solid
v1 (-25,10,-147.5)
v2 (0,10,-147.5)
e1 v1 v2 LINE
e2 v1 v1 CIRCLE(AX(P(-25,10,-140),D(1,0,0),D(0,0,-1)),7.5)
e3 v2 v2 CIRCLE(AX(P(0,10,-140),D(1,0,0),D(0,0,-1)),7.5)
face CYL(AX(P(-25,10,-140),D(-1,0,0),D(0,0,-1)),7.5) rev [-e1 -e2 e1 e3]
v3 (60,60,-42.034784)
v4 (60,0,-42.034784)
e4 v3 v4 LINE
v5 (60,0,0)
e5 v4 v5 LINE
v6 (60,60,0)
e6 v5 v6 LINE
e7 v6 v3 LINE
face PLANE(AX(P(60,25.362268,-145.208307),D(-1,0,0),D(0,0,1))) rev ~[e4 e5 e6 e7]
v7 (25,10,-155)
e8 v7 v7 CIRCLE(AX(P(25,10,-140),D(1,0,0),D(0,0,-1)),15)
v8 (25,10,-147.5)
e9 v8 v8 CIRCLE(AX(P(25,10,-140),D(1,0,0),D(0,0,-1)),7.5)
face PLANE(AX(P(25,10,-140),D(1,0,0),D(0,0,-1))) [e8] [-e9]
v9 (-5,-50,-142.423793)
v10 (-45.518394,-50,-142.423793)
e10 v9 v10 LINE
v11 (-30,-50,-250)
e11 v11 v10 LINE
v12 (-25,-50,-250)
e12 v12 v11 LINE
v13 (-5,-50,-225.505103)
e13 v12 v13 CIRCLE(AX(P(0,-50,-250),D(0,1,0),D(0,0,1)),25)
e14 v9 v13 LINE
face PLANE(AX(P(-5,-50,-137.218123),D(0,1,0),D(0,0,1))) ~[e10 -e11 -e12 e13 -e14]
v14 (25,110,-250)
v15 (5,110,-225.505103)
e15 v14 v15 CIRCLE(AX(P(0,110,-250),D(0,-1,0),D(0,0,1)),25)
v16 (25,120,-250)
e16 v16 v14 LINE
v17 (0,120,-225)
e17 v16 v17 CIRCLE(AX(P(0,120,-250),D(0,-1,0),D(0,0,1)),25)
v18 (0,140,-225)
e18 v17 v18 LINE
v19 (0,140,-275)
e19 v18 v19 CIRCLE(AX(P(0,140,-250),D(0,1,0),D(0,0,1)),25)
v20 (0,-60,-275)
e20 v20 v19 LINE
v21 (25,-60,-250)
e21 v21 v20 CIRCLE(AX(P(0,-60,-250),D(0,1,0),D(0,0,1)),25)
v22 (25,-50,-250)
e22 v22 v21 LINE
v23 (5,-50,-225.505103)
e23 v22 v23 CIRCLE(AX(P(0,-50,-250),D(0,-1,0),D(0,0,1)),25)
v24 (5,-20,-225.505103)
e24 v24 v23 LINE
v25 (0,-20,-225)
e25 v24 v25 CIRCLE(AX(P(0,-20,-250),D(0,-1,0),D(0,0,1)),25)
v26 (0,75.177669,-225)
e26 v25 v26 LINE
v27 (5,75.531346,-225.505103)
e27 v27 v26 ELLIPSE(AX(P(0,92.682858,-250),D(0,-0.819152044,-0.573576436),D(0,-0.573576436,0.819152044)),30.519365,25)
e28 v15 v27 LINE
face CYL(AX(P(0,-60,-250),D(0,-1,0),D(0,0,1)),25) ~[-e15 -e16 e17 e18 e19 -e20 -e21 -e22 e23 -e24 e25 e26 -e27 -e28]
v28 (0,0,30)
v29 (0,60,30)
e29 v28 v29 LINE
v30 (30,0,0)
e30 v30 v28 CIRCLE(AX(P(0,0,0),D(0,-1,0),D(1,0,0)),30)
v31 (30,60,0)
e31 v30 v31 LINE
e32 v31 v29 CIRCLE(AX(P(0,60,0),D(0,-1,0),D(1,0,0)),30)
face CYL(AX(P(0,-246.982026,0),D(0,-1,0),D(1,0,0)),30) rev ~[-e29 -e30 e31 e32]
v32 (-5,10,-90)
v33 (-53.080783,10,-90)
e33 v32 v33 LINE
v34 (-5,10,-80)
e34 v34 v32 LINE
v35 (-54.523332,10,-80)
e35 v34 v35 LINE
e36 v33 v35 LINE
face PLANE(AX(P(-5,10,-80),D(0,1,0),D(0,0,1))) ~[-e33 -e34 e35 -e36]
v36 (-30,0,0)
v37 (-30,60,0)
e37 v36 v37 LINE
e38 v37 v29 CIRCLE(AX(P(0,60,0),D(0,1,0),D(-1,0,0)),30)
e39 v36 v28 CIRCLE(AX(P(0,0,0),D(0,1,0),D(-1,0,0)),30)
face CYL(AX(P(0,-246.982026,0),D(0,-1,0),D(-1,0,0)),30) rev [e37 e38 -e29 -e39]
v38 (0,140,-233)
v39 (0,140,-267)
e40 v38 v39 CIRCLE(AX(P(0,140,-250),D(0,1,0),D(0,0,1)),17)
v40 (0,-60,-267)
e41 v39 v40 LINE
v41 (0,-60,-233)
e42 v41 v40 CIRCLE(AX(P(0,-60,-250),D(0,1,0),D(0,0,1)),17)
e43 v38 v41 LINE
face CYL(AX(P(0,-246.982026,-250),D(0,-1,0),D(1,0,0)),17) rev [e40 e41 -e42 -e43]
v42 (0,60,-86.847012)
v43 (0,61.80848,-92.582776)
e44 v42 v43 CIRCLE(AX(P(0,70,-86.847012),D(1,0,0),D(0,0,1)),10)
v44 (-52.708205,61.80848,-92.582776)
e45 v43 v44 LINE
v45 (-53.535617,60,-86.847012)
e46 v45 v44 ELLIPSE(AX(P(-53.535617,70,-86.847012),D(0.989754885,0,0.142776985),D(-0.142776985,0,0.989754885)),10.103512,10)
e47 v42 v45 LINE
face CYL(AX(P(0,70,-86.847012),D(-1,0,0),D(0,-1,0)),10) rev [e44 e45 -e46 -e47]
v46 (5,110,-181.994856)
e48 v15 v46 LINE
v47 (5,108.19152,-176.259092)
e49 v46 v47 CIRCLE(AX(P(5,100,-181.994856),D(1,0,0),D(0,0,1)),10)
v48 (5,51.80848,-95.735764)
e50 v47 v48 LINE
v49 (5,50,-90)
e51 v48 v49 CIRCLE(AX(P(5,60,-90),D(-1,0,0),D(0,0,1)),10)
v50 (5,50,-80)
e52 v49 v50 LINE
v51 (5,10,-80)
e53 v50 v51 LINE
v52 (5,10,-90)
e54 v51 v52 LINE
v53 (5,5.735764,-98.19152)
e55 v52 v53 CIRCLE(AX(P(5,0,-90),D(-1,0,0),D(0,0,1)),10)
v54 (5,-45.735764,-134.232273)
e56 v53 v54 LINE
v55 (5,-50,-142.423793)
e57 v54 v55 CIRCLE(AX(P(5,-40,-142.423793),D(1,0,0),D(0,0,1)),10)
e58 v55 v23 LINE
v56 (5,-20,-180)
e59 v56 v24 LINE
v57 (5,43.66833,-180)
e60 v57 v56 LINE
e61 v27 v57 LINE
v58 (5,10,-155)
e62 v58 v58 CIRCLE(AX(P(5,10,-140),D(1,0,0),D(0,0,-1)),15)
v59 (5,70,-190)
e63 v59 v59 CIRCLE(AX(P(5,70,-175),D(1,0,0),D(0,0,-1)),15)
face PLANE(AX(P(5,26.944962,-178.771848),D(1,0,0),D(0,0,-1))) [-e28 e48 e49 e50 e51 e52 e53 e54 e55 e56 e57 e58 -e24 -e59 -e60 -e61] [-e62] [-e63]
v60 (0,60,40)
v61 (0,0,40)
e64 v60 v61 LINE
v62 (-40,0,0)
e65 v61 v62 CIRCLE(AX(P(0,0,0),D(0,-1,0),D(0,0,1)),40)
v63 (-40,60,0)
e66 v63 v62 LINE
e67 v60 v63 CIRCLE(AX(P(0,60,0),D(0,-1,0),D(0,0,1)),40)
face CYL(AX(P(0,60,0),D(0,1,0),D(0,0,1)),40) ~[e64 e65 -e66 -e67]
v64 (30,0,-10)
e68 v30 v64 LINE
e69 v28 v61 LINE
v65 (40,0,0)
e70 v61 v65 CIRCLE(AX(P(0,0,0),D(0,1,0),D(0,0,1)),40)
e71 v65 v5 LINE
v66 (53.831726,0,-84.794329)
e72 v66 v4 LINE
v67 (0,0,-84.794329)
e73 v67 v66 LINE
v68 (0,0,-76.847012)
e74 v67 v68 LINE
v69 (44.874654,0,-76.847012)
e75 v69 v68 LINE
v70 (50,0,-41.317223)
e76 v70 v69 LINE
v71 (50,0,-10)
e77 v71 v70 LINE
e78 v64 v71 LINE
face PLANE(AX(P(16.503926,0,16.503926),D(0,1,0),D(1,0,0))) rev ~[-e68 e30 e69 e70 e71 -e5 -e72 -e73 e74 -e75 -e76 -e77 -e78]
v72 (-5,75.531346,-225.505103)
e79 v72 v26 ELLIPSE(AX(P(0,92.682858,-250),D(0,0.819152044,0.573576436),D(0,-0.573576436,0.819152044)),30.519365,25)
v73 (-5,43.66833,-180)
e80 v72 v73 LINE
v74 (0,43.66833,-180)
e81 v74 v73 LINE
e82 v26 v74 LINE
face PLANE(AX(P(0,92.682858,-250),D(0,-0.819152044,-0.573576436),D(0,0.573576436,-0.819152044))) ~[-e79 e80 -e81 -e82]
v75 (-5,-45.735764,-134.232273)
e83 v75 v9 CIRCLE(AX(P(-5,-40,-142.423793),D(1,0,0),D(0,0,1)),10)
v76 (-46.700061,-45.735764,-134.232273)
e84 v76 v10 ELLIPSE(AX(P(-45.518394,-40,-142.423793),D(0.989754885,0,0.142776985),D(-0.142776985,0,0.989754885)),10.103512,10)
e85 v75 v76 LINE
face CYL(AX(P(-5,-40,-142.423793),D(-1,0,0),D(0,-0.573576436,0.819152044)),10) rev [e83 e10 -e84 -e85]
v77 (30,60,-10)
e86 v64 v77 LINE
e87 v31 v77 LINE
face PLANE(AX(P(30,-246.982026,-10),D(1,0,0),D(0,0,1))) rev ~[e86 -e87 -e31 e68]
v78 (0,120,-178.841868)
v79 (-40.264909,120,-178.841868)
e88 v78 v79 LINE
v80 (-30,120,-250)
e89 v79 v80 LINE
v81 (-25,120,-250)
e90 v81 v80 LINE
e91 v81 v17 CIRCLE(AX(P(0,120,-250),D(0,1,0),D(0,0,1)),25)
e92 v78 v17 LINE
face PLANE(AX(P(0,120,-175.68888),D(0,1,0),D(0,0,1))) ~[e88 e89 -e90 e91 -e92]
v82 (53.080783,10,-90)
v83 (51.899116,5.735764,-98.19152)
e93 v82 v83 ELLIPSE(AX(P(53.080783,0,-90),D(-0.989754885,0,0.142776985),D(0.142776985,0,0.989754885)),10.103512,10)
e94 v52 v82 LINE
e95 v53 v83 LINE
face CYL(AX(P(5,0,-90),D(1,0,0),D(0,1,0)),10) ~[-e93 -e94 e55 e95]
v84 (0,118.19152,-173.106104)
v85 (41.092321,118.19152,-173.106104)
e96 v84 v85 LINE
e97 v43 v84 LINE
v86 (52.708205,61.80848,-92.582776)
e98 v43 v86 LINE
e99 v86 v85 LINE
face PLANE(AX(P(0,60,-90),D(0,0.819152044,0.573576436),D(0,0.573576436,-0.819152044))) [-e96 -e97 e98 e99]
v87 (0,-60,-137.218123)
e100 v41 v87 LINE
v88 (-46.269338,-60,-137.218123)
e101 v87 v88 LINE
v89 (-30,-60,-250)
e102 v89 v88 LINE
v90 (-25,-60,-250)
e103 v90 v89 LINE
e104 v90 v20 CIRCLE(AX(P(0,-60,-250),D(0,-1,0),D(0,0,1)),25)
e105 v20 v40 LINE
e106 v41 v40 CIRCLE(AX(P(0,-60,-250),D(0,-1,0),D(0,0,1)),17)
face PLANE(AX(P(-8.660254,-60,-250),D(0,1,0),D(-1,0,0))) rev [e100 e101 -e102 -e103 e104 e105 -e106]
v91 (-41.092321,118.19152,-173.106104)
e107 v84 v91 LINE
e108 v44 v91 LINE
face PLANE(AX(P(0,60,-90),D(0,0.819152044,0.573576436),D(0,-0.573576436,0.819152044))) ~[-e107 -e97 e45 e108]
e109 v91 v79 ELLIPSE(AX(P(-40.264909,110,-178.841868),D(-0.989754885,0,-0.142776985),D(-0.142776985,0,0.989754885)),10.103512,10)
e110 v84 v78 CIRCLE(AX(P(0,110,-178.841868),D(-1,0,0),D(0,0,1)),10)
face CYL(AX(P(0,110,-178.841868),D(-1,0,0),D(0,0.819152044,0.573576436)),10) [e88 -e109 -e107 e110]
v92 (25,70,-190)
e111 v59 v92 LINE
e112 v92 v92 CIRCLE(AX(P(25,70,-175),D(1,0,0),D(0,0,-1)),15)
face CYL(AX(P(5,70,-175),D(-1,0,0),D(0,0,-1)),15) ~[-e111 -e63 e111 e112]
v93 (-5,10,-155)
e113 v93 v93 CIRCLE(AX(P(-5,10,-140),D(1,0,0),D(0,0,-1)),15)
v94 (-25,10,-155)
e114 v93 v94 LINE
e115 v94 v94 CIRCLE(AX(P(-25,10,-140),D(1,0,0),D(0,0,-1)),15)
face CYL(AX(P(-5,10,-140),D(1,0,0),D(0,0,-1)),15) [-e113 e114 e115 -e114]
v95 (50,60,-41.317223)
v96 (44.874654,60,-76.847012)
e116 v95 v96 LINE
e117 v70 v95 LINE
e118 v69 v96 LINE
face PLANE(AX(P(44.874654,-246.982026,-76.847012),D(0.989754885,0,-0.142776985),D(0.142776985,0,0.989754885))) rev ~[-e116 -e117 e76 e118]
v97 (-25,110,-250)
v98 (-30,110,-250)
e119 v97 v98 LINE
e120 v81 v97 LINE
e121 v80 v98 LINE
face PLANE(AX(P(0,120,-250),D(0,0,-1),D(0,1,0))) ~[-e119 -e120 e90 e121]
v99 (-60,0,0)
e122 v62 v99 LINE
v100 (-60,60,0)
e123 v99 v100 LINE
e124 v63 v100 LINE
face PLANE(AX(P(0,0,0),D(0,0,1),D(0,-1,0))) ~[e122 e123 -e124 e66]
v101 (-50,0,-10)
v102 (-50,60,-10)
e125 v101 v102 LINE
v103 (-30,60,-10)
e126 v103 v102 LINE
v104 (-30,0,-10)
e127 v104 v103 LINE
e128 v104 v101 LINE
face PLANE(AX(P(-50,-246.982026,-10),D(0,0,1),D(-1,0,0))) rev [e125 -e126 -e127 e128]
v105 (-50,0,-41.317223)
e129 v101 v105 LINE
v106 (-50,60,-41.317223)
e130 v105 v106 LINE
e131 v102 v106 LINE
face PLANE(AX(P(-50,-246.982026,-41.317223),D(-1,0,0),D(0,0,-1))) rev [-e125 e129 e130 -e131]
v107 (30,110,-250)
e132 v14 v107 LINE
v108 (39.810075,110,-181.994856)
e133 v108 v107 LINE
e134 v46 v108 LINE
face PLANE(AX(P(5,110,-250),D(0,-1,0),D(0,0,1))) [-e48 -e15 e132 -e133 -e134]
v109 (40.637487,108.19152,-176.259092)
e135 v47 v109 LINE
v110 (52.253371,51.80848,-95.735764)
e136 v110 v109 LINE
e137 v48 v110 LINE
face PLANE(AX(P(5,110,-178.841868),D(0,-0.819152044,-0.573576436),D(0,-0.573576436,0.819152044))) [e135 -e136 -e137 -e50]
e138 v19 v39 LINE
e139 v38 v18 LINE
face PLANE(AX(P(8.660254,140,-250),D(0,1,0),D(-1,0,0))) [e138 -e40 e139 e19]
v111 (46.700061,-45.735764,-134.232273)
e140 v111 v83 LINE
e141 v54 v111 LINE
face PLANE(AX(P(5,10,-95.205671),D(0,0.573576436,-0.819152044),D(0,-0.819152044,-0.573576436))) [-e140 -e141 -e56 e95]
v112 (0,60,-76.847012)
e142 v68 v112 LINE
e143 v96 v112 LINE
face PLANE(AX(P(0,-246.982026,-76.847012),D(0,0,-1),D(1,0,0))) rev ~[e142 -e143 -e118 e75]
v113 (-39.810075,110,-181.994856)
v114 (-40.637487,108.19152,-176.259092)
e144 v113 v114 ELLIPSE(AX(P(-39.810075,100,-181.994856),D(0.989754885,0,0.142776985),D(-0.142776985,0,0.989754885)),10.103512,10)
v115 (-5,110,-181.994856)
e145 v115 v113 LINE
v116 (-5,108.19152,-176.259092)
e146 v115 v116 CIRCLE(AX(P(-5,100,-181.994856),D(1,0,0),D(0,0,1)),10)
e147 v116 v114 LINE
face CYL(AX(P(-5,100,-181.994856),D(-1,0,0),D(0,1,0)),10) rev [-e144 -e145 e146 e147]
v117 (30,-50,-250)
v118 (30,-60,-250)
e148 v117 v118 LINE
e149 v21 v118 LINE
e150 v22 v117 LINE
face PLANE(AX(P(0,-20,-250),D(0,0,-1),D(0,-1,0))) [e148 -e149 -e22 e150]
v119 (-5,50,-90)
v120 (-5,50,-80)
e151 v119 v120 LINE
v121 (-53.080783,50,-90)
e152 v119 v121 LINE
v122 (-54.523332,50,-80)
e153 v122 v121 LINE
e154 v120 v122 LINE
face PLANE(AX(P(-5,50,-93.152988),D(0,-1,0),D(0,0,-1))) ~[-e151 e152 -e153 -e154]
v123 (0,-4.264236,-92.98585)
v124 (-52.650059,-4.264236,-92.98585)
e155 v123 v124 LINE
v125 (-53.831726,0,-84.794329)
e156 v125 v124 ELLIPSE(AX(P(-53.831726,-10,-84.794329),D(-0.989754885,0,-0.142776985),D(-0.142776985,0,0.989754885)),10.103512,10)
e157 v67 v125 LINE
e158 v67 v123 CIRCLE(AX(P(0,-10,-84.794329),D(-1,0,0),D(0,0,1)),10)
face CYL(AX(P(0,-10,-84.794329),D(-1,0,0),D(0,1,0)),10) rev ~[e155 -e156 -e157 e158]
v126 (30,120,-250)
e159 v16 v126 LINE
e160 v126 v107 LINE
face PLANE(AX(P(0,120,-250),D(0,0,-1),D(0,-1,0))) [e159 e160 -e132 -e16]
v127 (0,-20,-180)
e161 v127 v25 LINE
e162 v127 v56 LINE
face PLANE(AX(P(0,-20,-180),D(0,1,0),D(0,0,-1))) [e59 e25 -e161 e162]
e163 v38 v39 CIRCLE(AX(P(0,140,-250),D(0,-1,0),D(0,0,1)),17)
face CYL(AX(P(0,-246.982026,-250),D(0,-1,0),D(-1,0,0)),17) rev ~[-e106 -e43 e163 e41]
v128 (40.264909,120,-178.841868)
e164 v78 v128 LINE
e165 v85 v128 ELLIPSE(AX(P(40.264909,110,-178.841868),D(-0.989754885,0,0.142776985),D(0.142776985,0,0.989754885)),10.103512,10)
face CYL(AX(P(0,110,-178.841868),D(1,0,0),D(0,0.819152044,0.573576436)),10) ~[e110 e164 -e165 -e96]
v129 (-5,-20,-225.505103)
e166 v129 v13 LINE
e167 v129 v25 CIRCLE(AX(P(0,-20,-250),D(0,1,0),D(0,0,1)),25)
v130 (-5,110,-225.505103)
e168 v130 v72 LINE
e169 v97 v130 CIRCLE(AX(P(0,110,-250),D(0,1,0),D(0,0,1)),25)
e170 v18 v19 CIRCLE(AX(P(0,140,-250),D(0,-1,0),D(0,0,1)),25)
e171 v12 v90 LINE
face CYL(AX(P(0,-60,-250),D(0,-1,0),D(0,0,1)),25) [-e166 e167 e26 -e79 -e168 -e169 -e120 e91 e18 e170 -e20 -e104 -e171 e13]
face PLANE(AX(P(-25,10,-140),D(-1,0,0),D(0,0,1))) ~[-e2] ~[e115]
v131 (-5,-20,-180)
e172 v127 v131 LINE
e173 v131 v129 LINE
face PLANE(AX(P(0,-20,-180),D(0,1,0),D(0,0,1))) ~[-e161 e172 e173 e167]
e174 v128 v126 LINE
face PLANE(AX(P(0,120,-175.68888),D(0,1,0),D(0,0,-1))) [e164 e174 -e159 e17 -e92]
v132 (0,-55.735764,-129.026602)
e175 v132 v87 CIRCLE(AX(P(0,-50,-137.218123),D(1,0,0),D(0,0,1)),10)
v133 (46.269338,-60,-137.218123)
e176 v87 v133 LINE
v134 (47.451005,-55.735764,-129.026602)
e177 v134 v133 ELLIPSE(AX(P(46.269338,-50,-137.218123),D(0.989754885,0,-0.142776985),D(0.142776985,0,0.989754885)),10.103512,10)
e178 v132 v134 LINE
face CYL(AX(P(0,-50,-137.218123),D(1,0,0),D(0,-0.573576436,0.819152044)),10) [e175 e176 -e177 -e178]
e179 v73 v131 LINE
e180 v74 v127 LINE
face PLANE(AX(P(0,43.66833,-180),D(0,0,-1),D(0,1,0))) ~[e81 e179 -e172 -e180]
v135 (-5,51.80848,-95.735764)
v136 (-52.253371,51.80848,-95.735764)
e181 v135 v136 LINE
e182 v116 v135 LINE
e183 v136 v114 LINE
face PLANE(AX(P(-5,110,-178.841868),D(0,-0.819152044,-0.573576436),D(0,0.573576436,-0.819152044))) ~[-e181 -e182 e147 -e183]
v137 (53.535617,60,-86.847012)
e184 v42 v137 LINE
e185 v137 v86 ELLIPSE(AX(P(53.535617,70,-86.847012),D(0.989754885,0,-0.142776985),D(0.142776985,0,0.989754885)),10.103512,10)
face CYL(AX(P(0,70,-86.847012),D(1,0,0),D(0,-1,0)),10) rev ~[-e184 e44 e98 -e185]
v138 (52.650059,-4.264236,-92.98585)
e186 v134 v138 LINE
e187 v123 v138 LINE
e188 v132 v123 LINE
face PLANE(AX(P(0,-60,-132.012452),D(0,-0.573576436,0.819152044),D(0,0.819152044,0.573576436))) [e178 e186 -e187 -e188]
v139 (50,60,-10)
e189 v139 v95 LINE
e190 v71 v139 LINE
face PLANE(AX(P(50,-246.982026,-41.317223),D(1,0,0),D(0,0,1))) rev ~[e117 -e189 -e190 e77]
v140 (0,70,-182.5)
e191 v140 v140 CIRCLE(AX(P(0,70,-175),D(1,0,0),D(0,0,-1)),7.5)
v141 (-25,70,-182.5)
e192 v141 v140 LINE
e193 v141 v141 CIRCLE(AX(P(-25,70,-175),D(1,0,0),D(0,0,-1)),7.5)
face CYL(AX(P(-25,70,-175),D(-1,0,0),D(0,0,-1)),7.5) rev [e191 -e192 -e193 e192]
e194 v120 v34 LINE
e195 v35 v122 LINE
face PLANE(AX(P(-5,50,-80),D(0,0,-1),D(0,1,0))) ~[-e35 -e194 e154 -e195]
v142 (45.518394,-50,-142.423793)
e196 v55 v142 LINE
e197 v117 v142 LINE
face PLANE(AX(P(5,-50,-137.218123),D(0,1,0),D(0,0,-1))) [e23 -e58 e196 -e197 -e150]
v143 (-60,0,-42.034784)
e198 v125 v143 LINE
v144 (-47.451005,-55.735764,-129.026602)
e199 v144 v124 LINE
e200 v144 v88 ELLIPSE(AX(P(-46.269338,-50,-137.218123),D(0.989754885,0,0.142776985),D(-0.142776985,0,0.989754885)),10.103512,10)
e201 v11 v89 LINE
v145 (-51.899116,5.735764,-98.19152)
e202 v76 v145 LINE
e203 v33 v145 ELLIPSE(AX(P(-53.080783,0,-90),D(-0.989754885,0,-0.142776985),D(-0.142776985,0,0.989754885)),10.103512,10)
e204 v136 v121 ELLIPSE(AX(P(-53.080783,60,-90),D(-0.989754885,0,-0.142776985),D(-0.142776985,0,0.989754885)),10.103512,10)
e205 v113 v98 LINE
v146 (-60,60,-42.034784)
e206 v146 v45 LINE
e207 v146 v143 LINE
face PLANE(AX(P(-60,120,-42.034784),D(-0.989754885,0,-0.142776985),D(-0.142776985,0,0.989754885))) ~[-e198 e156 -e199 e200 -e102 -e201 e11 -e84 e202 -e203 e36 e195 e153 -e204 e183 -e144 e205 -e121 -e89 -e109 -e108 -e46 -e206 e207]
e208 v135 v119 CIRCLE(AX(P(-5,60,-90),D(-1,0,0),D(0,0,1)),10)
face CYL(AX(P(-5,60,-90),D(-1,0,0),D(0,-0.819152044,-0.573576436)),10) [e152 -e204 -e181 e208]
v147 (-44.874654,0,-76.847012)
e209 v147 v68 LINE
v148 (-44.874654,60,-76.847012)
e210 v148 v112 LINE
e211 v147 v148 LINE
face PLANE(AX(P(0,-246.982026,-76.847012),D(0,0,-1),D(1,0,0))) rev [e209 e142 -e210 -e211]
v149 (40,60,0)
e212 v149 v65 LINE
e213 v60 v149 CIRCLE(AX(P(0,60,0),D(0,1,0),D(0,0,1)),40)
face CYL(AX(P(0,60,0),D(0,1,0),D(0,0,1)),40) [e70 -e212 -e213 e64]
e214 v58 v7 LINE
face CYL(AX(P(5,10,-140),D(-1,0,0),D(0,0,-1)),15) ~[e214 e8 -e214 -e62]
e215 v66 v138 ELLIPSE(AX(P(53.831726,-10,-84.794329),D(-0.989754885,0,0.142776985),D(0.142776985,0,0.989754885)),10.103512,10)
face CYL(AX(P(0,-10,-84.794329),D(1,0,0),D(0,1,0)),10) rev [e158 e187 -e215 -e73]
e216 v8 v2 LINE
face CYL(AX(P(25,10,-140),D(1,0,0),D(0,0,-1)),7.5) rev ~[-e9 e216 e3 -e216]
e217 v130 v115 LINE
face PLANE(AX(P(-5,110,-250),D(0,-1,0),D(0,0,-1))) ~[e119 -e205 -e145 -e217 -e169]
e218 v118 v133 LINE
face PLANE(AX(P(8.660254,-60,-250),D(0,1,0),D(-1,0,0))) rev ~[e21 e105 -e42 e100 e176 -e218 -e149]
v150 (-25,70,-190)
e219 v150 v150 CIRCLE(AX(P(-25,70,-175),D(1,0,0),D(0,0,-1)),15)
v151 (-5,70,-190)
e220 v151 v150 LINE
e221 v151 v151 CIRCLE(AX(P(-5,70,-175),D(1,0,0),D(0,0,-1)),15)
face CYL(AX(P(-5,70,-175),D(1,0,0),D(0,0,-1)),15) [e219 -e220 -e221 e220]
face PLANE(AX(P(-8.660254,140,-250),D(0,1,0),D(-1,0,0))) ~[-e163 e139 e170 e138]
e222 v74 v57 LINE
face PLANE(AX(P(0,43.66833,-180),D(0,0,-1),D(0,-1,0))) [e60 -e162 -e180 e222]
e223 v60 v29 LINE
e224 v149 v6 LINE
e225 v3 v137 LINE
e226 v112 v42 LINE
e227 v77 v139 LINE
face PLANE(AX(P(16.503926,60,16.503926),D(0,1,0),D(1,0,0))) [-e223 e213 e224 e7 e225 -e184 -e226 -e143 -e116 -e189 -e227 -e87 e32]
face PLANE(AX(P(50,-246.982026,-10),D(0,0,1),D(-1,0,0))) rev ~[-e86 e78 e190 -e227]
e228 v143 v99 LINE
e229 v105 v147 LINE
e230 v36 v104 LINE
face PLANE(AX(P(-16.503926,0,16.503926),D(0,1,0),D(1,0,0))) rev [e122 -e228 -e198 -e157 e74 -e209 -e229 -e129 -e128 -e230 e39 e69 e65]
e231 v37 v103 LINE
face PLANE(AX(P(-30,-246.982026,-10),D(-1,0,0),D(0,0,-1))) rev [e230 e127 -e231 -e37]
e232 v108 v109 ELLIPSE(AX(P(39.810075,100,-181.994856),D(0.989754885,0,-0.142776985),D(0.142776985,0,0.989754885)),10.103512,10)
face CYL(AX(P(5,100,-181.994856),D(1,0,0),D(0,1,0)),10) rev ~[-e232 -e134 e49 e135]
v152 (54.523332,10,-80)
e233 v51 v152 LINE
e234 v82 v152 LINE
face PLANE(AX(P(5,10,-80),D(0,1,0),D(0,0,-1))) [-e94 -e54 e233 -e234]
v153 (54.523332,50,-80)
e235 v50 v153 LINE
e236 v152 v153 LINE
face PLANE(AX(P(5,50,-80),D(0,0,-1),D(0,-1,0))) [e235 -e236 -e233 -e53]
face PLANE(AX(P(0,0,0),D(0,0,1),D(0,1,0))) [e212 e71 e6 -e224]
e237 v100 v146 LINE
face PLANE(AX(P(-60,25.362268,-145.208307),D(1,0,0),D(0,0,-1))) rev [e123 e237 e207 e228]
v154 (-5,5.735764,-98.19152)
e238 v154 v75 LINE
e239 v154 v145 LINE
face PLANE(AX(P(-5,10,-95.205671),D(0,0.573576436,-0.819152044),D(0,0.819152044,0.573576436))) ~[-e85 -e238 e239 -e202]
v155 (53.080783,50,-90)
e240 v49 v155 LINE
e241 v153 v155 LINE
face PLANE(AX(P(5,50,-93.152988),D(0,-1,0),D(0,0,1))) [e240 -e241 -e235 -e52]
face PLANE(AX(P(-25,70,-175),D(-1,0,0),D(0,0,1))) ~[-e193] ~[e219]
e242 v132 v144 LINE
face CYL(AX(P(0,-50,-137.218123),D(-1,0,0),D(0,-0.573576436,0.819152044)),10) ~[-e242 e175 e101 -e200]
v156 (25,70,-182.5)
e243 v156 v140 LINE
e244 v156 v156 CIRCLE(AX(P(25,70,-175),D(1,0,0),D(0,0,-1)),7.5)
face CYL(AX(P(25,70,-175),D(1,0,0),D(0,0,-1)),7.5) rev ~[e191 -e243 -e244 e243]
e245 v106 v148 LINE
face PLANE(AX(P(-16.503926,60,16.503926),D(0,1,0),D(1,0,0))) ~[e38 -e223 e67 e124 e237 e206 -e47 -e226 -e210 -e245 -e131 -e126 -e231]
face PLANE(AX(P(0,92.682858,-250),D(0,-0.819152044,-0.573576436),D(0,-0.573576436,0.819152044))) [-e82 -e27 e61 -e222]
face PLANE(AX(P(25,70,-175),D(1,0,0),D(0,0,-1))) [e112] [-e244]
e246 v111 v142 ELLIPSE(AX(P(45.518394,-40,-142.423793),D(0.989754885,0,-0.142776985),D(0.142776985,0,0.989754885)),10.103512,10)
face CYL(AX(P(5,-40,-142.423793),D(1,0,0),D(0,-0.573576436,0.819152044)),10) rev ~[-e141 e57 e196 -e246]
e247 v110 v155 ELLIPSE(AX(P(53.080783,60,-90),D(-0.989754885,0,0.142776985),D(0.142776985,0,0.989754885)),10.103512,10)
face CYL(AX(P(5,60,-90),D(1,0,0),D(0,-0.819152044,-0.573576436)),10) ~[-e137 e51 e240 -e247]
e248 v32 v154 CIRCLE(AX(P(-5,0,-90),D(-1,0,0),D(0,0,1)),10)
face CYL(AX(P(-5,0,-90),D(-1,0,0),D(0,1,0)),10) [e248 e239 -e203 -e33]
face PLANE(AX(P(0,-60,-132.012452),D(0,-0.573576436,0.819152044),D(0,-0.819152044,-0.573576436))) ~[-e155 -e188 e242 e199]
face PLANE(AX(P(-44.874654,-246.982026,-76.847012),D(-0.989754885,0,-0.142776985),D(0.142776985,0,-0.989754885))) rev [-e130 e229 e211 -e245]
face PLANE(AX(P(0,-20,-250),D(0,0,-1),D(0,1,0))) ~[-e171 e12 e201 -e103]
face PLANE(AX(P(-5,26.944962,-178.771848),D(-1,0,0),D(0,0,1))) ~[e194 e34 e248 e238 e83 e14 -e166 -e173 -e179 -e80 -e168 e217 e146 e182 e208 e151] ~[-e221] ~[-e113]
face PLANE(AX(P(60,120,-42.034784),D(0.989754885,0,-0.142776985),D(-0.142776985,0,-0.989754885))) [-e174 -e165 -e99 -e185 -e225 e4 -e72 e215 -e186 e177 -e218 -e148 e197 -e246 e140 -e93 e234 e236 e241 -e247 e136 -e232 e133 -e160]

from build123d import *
from build123d.topology import SkipClean

# Parameters (mm, degrees)
BOSS_EXTRUDE1_DEPTH     = 60
CUT_EXTRUDE1_DEPTH      = 314.84709653
CUT_EXTRUDE2_REACH      = 290.725
CUT_EXTRUDE2_START      = 5
FILLET1_R               = 10
BOSS_EXTRUDE4_DEPTH     = 60
BOSS_EXTRUDE2_DEPTH     = 200
CUT_EXTRUDE3_DEPTH      = 306.982025616
CUT_EXTRUDE3_DEPTH_BACK = 306.982025616
SKETCH5_R               = 17
SKETCH6_R               = 15
BOSS_EXTRUDE3_DEPTH     = 20
CUT_EXTRUDE4_REACH      = 312.564
SKETCH7_R               = 7.5


with BuildPart() as part:
    # Sketch1 → Boss-Extrude1 (new body)
    with BuildSketch(Plane(origin=(0, 0, 0), x_dir=(0, 0, -1), z_dir=(1, 0, 0))):
        Polygon((0, 0), (0, 60), (90, 60), (175.688880405, 120), (250, 120), (250, 92.682857844), (180, 43.668330169), (180, -20), (250, -20), (250, -60), (132.012452293, -60), (90, 0), align=None)
    extrude(amount=BOSS_EXTRUDE1_DEPTH)

    # Sketch2 → Cut-Extrude1 (cut, through all)
    with BuildSketch(Plane(origin=(0, 120, 0), x_dir=(1, 0, 0), z_dir=(0, 1, 0))):
        Polygon((60, 42.034783703), (30, 250), (60, 250), align=None)
    extrude(amount=-CUT_EXTRUDE1_DEPTH, mode=Mode.SUBTRACT)

    # Cut-Extrude2: up to this plane
    cut_extrude2_end = Plane(origin=(60, -60, -42.034783703), z_dir=(-0.9897548850976273, 0, 0.1427769849288831))
    # Sketch4 → Cut-Extrude2 (cut, up to the surface)
    with BuildSketch(Plane(origin=(0, 0, 0), x_dir=(0, 0, -1), z_dir=(1, 0, 0)).offset(CUT_EXTRUDE2_START), mode=Mode.PRIVATE) as cut_extrude2_sk1:
        Polygon((80, 50), (80, 10), (95.205670506, 10), (137.218122798, -50), (250, -50), (250, 110), (178.841868293, 110), (93.152987889, 50), align=None)
    cut_extrude2_tool1 = split(extrude(cut_extrude2_sk1.sketch, amount=CUT_EXTRUDE2_REACH, mode=Mode.PRIVATE), bisect_by=cut_extrude2_end, keep=Keep.BOTH, mode=Mode.PRIVATE)
    add(cut_extrude2_tool1.solids().sort_by_distance((5, 26.655834, -179.495855))[0], mode=Mode.SUBTRACT)

    # Fillet1
    fillet1_edges = [part.edges().sort_by_distance(p)[0] for p in [
        (26.540391431, 60, -90),
        (20.359871299, 120, -175.688880405),
        (23.510140528, -60, -132.012452293),
        (26.540391431, 0, -90),
        (28.66491971, 10, -95.205670506),
        (25.634668807, -50, -137.218122798),
        (22.632454334, 110, -178.841868293),
        (28.812974465, 50, -93.152987889),
    ]]
    fillet(fillet1_edges, radius=FILLET1_R)

    # Sketch8 → Boss-Extrude4 (add)
    with BuildSketch(Plane(origin=(0, 60, 0), x_dir=(1, 0, 0), z_dir=(0, 1, 0))):
        with BuildLine():
            Line((0, 0), (0, -40))
            ThreePointArc((0, -40), (28.284271247, -28.284271247), (40, 0))
            Line((40, 0), (0, 0))
        make_face()
    extrude(amount=-BOSS_EXTRUDE4_DEPTH)

    # Sketch3 → Boss-Extrude2 (add)
    with BuildSketch(Plane.XZ.offset(60)):
        with BuildLine():
            Line((0, -275), (0, -225))
            ThreePointArc((0, -225), (25, -250), (0, -275))
        make_face()
    extrude(amount=-BOSS_EXTRUDE2_DEPTH)

    # Sketch5 → Cut-Extrude3 (cut, two sides: drawn at the far end of the back side and taken through both)
    with BuildSketch(Plane(origin=(0, 60, 0), x_dir=(1, 0, 0), z_dir=(0, 1, 0)).offset(-CUT_EXTRUDE3_DEPTH_BACK)):
        with Locations((0, 250)):
            Circle(SKETCH5_R)
        with BuildLine():
            Line((40, 10), (30, 10))
            Line((30, 10), (30, 0))
            ThreePointArc((30, 0), (21.213203436, -21.213203436), (0, -30))
            Line((0, -30), (0, 76.847012111))
            Line((0, 76.847012111), (44.874654082, 76.847012111))
            Line((44.874654082, 76.847012111), (50, 41.317223033))
            Line((50, 41.317223033), (50, 10))
            Line((50, 10), (40, 10))
        make_face()
    extrude(amount=CUT_EXTRUDE3_DEPTH + CUT_EXTRUDE3_DEPTH_BACK, mode=Mode.SUBTRACT)

    # Sketch6 → Boss-Extrude3 (add)
    with BuildSketch(Plane(origin=(5, 0, 0), x_dir=(0, 0, -1), z_dir=(1, 0, 0))):
        with Locations((175, 70)):
            Circle(SKETCH6_R)
        with Locations((140, 10)):
            Circle(SKETCH6_R)
    extrude(amount=BOSS_EXTRUDE3_DEPTH)

    # Sketch7 → Cut-Extrude4 (cut, up to next)
    with BuildSketch(Plane(origin=(25, 0, 0), x_dir=(0, 0, -1), z_dir=(1, 0, 0)), mode=Mode.PRIVATE) as cut_extrude4_sk1:
        with Locations((140, 10)):
            Circle(SKETCH7_R)
    cut_extrude4_tool1 = extrude(cut_extrude4_sk1.sketch, amount=-CUT_EXTRUDE4_REACH, mode=Mode.PRIVATE) & part.part
    # Sketch7 → Cut-Extrude4 (cut, up to next)
    with BuildSketch(Plane(origin=(25, 0, 0), x_dir=(0, 0, -1), z_dir=(1, 0, 0)), mode=Mode.PRIVATE) as cut_extrude4_sk2:
        with Locations((175, 70)):
            Circle(SKETCH7_R)
    cut_extrude4_tool2 = extrude(cut_extrude4_sk2.sketch, amount=-CUT_EXTRUDE4_REACH, mode=Mode.PRIVATE) & part.part
    add(cut_extrude4_tool1.solids().sort_by_distance((25, 10, -140))[0], mode=Mode.SUBTRACT)
    add(cut_extrude4_tool2.solids().sort_by_distance((25, 70, -175))[0], mode=Mode.SUBTRACT)

    # Mirror2: part across plane


with BuildPart() as part_1:
    with SkipClean():  # the faces are left unmerged after this step: merging them gives an invalid solid
        add(part.part)
        add(part.part.mirror(Plane.ZY))


solid = part_1.part
